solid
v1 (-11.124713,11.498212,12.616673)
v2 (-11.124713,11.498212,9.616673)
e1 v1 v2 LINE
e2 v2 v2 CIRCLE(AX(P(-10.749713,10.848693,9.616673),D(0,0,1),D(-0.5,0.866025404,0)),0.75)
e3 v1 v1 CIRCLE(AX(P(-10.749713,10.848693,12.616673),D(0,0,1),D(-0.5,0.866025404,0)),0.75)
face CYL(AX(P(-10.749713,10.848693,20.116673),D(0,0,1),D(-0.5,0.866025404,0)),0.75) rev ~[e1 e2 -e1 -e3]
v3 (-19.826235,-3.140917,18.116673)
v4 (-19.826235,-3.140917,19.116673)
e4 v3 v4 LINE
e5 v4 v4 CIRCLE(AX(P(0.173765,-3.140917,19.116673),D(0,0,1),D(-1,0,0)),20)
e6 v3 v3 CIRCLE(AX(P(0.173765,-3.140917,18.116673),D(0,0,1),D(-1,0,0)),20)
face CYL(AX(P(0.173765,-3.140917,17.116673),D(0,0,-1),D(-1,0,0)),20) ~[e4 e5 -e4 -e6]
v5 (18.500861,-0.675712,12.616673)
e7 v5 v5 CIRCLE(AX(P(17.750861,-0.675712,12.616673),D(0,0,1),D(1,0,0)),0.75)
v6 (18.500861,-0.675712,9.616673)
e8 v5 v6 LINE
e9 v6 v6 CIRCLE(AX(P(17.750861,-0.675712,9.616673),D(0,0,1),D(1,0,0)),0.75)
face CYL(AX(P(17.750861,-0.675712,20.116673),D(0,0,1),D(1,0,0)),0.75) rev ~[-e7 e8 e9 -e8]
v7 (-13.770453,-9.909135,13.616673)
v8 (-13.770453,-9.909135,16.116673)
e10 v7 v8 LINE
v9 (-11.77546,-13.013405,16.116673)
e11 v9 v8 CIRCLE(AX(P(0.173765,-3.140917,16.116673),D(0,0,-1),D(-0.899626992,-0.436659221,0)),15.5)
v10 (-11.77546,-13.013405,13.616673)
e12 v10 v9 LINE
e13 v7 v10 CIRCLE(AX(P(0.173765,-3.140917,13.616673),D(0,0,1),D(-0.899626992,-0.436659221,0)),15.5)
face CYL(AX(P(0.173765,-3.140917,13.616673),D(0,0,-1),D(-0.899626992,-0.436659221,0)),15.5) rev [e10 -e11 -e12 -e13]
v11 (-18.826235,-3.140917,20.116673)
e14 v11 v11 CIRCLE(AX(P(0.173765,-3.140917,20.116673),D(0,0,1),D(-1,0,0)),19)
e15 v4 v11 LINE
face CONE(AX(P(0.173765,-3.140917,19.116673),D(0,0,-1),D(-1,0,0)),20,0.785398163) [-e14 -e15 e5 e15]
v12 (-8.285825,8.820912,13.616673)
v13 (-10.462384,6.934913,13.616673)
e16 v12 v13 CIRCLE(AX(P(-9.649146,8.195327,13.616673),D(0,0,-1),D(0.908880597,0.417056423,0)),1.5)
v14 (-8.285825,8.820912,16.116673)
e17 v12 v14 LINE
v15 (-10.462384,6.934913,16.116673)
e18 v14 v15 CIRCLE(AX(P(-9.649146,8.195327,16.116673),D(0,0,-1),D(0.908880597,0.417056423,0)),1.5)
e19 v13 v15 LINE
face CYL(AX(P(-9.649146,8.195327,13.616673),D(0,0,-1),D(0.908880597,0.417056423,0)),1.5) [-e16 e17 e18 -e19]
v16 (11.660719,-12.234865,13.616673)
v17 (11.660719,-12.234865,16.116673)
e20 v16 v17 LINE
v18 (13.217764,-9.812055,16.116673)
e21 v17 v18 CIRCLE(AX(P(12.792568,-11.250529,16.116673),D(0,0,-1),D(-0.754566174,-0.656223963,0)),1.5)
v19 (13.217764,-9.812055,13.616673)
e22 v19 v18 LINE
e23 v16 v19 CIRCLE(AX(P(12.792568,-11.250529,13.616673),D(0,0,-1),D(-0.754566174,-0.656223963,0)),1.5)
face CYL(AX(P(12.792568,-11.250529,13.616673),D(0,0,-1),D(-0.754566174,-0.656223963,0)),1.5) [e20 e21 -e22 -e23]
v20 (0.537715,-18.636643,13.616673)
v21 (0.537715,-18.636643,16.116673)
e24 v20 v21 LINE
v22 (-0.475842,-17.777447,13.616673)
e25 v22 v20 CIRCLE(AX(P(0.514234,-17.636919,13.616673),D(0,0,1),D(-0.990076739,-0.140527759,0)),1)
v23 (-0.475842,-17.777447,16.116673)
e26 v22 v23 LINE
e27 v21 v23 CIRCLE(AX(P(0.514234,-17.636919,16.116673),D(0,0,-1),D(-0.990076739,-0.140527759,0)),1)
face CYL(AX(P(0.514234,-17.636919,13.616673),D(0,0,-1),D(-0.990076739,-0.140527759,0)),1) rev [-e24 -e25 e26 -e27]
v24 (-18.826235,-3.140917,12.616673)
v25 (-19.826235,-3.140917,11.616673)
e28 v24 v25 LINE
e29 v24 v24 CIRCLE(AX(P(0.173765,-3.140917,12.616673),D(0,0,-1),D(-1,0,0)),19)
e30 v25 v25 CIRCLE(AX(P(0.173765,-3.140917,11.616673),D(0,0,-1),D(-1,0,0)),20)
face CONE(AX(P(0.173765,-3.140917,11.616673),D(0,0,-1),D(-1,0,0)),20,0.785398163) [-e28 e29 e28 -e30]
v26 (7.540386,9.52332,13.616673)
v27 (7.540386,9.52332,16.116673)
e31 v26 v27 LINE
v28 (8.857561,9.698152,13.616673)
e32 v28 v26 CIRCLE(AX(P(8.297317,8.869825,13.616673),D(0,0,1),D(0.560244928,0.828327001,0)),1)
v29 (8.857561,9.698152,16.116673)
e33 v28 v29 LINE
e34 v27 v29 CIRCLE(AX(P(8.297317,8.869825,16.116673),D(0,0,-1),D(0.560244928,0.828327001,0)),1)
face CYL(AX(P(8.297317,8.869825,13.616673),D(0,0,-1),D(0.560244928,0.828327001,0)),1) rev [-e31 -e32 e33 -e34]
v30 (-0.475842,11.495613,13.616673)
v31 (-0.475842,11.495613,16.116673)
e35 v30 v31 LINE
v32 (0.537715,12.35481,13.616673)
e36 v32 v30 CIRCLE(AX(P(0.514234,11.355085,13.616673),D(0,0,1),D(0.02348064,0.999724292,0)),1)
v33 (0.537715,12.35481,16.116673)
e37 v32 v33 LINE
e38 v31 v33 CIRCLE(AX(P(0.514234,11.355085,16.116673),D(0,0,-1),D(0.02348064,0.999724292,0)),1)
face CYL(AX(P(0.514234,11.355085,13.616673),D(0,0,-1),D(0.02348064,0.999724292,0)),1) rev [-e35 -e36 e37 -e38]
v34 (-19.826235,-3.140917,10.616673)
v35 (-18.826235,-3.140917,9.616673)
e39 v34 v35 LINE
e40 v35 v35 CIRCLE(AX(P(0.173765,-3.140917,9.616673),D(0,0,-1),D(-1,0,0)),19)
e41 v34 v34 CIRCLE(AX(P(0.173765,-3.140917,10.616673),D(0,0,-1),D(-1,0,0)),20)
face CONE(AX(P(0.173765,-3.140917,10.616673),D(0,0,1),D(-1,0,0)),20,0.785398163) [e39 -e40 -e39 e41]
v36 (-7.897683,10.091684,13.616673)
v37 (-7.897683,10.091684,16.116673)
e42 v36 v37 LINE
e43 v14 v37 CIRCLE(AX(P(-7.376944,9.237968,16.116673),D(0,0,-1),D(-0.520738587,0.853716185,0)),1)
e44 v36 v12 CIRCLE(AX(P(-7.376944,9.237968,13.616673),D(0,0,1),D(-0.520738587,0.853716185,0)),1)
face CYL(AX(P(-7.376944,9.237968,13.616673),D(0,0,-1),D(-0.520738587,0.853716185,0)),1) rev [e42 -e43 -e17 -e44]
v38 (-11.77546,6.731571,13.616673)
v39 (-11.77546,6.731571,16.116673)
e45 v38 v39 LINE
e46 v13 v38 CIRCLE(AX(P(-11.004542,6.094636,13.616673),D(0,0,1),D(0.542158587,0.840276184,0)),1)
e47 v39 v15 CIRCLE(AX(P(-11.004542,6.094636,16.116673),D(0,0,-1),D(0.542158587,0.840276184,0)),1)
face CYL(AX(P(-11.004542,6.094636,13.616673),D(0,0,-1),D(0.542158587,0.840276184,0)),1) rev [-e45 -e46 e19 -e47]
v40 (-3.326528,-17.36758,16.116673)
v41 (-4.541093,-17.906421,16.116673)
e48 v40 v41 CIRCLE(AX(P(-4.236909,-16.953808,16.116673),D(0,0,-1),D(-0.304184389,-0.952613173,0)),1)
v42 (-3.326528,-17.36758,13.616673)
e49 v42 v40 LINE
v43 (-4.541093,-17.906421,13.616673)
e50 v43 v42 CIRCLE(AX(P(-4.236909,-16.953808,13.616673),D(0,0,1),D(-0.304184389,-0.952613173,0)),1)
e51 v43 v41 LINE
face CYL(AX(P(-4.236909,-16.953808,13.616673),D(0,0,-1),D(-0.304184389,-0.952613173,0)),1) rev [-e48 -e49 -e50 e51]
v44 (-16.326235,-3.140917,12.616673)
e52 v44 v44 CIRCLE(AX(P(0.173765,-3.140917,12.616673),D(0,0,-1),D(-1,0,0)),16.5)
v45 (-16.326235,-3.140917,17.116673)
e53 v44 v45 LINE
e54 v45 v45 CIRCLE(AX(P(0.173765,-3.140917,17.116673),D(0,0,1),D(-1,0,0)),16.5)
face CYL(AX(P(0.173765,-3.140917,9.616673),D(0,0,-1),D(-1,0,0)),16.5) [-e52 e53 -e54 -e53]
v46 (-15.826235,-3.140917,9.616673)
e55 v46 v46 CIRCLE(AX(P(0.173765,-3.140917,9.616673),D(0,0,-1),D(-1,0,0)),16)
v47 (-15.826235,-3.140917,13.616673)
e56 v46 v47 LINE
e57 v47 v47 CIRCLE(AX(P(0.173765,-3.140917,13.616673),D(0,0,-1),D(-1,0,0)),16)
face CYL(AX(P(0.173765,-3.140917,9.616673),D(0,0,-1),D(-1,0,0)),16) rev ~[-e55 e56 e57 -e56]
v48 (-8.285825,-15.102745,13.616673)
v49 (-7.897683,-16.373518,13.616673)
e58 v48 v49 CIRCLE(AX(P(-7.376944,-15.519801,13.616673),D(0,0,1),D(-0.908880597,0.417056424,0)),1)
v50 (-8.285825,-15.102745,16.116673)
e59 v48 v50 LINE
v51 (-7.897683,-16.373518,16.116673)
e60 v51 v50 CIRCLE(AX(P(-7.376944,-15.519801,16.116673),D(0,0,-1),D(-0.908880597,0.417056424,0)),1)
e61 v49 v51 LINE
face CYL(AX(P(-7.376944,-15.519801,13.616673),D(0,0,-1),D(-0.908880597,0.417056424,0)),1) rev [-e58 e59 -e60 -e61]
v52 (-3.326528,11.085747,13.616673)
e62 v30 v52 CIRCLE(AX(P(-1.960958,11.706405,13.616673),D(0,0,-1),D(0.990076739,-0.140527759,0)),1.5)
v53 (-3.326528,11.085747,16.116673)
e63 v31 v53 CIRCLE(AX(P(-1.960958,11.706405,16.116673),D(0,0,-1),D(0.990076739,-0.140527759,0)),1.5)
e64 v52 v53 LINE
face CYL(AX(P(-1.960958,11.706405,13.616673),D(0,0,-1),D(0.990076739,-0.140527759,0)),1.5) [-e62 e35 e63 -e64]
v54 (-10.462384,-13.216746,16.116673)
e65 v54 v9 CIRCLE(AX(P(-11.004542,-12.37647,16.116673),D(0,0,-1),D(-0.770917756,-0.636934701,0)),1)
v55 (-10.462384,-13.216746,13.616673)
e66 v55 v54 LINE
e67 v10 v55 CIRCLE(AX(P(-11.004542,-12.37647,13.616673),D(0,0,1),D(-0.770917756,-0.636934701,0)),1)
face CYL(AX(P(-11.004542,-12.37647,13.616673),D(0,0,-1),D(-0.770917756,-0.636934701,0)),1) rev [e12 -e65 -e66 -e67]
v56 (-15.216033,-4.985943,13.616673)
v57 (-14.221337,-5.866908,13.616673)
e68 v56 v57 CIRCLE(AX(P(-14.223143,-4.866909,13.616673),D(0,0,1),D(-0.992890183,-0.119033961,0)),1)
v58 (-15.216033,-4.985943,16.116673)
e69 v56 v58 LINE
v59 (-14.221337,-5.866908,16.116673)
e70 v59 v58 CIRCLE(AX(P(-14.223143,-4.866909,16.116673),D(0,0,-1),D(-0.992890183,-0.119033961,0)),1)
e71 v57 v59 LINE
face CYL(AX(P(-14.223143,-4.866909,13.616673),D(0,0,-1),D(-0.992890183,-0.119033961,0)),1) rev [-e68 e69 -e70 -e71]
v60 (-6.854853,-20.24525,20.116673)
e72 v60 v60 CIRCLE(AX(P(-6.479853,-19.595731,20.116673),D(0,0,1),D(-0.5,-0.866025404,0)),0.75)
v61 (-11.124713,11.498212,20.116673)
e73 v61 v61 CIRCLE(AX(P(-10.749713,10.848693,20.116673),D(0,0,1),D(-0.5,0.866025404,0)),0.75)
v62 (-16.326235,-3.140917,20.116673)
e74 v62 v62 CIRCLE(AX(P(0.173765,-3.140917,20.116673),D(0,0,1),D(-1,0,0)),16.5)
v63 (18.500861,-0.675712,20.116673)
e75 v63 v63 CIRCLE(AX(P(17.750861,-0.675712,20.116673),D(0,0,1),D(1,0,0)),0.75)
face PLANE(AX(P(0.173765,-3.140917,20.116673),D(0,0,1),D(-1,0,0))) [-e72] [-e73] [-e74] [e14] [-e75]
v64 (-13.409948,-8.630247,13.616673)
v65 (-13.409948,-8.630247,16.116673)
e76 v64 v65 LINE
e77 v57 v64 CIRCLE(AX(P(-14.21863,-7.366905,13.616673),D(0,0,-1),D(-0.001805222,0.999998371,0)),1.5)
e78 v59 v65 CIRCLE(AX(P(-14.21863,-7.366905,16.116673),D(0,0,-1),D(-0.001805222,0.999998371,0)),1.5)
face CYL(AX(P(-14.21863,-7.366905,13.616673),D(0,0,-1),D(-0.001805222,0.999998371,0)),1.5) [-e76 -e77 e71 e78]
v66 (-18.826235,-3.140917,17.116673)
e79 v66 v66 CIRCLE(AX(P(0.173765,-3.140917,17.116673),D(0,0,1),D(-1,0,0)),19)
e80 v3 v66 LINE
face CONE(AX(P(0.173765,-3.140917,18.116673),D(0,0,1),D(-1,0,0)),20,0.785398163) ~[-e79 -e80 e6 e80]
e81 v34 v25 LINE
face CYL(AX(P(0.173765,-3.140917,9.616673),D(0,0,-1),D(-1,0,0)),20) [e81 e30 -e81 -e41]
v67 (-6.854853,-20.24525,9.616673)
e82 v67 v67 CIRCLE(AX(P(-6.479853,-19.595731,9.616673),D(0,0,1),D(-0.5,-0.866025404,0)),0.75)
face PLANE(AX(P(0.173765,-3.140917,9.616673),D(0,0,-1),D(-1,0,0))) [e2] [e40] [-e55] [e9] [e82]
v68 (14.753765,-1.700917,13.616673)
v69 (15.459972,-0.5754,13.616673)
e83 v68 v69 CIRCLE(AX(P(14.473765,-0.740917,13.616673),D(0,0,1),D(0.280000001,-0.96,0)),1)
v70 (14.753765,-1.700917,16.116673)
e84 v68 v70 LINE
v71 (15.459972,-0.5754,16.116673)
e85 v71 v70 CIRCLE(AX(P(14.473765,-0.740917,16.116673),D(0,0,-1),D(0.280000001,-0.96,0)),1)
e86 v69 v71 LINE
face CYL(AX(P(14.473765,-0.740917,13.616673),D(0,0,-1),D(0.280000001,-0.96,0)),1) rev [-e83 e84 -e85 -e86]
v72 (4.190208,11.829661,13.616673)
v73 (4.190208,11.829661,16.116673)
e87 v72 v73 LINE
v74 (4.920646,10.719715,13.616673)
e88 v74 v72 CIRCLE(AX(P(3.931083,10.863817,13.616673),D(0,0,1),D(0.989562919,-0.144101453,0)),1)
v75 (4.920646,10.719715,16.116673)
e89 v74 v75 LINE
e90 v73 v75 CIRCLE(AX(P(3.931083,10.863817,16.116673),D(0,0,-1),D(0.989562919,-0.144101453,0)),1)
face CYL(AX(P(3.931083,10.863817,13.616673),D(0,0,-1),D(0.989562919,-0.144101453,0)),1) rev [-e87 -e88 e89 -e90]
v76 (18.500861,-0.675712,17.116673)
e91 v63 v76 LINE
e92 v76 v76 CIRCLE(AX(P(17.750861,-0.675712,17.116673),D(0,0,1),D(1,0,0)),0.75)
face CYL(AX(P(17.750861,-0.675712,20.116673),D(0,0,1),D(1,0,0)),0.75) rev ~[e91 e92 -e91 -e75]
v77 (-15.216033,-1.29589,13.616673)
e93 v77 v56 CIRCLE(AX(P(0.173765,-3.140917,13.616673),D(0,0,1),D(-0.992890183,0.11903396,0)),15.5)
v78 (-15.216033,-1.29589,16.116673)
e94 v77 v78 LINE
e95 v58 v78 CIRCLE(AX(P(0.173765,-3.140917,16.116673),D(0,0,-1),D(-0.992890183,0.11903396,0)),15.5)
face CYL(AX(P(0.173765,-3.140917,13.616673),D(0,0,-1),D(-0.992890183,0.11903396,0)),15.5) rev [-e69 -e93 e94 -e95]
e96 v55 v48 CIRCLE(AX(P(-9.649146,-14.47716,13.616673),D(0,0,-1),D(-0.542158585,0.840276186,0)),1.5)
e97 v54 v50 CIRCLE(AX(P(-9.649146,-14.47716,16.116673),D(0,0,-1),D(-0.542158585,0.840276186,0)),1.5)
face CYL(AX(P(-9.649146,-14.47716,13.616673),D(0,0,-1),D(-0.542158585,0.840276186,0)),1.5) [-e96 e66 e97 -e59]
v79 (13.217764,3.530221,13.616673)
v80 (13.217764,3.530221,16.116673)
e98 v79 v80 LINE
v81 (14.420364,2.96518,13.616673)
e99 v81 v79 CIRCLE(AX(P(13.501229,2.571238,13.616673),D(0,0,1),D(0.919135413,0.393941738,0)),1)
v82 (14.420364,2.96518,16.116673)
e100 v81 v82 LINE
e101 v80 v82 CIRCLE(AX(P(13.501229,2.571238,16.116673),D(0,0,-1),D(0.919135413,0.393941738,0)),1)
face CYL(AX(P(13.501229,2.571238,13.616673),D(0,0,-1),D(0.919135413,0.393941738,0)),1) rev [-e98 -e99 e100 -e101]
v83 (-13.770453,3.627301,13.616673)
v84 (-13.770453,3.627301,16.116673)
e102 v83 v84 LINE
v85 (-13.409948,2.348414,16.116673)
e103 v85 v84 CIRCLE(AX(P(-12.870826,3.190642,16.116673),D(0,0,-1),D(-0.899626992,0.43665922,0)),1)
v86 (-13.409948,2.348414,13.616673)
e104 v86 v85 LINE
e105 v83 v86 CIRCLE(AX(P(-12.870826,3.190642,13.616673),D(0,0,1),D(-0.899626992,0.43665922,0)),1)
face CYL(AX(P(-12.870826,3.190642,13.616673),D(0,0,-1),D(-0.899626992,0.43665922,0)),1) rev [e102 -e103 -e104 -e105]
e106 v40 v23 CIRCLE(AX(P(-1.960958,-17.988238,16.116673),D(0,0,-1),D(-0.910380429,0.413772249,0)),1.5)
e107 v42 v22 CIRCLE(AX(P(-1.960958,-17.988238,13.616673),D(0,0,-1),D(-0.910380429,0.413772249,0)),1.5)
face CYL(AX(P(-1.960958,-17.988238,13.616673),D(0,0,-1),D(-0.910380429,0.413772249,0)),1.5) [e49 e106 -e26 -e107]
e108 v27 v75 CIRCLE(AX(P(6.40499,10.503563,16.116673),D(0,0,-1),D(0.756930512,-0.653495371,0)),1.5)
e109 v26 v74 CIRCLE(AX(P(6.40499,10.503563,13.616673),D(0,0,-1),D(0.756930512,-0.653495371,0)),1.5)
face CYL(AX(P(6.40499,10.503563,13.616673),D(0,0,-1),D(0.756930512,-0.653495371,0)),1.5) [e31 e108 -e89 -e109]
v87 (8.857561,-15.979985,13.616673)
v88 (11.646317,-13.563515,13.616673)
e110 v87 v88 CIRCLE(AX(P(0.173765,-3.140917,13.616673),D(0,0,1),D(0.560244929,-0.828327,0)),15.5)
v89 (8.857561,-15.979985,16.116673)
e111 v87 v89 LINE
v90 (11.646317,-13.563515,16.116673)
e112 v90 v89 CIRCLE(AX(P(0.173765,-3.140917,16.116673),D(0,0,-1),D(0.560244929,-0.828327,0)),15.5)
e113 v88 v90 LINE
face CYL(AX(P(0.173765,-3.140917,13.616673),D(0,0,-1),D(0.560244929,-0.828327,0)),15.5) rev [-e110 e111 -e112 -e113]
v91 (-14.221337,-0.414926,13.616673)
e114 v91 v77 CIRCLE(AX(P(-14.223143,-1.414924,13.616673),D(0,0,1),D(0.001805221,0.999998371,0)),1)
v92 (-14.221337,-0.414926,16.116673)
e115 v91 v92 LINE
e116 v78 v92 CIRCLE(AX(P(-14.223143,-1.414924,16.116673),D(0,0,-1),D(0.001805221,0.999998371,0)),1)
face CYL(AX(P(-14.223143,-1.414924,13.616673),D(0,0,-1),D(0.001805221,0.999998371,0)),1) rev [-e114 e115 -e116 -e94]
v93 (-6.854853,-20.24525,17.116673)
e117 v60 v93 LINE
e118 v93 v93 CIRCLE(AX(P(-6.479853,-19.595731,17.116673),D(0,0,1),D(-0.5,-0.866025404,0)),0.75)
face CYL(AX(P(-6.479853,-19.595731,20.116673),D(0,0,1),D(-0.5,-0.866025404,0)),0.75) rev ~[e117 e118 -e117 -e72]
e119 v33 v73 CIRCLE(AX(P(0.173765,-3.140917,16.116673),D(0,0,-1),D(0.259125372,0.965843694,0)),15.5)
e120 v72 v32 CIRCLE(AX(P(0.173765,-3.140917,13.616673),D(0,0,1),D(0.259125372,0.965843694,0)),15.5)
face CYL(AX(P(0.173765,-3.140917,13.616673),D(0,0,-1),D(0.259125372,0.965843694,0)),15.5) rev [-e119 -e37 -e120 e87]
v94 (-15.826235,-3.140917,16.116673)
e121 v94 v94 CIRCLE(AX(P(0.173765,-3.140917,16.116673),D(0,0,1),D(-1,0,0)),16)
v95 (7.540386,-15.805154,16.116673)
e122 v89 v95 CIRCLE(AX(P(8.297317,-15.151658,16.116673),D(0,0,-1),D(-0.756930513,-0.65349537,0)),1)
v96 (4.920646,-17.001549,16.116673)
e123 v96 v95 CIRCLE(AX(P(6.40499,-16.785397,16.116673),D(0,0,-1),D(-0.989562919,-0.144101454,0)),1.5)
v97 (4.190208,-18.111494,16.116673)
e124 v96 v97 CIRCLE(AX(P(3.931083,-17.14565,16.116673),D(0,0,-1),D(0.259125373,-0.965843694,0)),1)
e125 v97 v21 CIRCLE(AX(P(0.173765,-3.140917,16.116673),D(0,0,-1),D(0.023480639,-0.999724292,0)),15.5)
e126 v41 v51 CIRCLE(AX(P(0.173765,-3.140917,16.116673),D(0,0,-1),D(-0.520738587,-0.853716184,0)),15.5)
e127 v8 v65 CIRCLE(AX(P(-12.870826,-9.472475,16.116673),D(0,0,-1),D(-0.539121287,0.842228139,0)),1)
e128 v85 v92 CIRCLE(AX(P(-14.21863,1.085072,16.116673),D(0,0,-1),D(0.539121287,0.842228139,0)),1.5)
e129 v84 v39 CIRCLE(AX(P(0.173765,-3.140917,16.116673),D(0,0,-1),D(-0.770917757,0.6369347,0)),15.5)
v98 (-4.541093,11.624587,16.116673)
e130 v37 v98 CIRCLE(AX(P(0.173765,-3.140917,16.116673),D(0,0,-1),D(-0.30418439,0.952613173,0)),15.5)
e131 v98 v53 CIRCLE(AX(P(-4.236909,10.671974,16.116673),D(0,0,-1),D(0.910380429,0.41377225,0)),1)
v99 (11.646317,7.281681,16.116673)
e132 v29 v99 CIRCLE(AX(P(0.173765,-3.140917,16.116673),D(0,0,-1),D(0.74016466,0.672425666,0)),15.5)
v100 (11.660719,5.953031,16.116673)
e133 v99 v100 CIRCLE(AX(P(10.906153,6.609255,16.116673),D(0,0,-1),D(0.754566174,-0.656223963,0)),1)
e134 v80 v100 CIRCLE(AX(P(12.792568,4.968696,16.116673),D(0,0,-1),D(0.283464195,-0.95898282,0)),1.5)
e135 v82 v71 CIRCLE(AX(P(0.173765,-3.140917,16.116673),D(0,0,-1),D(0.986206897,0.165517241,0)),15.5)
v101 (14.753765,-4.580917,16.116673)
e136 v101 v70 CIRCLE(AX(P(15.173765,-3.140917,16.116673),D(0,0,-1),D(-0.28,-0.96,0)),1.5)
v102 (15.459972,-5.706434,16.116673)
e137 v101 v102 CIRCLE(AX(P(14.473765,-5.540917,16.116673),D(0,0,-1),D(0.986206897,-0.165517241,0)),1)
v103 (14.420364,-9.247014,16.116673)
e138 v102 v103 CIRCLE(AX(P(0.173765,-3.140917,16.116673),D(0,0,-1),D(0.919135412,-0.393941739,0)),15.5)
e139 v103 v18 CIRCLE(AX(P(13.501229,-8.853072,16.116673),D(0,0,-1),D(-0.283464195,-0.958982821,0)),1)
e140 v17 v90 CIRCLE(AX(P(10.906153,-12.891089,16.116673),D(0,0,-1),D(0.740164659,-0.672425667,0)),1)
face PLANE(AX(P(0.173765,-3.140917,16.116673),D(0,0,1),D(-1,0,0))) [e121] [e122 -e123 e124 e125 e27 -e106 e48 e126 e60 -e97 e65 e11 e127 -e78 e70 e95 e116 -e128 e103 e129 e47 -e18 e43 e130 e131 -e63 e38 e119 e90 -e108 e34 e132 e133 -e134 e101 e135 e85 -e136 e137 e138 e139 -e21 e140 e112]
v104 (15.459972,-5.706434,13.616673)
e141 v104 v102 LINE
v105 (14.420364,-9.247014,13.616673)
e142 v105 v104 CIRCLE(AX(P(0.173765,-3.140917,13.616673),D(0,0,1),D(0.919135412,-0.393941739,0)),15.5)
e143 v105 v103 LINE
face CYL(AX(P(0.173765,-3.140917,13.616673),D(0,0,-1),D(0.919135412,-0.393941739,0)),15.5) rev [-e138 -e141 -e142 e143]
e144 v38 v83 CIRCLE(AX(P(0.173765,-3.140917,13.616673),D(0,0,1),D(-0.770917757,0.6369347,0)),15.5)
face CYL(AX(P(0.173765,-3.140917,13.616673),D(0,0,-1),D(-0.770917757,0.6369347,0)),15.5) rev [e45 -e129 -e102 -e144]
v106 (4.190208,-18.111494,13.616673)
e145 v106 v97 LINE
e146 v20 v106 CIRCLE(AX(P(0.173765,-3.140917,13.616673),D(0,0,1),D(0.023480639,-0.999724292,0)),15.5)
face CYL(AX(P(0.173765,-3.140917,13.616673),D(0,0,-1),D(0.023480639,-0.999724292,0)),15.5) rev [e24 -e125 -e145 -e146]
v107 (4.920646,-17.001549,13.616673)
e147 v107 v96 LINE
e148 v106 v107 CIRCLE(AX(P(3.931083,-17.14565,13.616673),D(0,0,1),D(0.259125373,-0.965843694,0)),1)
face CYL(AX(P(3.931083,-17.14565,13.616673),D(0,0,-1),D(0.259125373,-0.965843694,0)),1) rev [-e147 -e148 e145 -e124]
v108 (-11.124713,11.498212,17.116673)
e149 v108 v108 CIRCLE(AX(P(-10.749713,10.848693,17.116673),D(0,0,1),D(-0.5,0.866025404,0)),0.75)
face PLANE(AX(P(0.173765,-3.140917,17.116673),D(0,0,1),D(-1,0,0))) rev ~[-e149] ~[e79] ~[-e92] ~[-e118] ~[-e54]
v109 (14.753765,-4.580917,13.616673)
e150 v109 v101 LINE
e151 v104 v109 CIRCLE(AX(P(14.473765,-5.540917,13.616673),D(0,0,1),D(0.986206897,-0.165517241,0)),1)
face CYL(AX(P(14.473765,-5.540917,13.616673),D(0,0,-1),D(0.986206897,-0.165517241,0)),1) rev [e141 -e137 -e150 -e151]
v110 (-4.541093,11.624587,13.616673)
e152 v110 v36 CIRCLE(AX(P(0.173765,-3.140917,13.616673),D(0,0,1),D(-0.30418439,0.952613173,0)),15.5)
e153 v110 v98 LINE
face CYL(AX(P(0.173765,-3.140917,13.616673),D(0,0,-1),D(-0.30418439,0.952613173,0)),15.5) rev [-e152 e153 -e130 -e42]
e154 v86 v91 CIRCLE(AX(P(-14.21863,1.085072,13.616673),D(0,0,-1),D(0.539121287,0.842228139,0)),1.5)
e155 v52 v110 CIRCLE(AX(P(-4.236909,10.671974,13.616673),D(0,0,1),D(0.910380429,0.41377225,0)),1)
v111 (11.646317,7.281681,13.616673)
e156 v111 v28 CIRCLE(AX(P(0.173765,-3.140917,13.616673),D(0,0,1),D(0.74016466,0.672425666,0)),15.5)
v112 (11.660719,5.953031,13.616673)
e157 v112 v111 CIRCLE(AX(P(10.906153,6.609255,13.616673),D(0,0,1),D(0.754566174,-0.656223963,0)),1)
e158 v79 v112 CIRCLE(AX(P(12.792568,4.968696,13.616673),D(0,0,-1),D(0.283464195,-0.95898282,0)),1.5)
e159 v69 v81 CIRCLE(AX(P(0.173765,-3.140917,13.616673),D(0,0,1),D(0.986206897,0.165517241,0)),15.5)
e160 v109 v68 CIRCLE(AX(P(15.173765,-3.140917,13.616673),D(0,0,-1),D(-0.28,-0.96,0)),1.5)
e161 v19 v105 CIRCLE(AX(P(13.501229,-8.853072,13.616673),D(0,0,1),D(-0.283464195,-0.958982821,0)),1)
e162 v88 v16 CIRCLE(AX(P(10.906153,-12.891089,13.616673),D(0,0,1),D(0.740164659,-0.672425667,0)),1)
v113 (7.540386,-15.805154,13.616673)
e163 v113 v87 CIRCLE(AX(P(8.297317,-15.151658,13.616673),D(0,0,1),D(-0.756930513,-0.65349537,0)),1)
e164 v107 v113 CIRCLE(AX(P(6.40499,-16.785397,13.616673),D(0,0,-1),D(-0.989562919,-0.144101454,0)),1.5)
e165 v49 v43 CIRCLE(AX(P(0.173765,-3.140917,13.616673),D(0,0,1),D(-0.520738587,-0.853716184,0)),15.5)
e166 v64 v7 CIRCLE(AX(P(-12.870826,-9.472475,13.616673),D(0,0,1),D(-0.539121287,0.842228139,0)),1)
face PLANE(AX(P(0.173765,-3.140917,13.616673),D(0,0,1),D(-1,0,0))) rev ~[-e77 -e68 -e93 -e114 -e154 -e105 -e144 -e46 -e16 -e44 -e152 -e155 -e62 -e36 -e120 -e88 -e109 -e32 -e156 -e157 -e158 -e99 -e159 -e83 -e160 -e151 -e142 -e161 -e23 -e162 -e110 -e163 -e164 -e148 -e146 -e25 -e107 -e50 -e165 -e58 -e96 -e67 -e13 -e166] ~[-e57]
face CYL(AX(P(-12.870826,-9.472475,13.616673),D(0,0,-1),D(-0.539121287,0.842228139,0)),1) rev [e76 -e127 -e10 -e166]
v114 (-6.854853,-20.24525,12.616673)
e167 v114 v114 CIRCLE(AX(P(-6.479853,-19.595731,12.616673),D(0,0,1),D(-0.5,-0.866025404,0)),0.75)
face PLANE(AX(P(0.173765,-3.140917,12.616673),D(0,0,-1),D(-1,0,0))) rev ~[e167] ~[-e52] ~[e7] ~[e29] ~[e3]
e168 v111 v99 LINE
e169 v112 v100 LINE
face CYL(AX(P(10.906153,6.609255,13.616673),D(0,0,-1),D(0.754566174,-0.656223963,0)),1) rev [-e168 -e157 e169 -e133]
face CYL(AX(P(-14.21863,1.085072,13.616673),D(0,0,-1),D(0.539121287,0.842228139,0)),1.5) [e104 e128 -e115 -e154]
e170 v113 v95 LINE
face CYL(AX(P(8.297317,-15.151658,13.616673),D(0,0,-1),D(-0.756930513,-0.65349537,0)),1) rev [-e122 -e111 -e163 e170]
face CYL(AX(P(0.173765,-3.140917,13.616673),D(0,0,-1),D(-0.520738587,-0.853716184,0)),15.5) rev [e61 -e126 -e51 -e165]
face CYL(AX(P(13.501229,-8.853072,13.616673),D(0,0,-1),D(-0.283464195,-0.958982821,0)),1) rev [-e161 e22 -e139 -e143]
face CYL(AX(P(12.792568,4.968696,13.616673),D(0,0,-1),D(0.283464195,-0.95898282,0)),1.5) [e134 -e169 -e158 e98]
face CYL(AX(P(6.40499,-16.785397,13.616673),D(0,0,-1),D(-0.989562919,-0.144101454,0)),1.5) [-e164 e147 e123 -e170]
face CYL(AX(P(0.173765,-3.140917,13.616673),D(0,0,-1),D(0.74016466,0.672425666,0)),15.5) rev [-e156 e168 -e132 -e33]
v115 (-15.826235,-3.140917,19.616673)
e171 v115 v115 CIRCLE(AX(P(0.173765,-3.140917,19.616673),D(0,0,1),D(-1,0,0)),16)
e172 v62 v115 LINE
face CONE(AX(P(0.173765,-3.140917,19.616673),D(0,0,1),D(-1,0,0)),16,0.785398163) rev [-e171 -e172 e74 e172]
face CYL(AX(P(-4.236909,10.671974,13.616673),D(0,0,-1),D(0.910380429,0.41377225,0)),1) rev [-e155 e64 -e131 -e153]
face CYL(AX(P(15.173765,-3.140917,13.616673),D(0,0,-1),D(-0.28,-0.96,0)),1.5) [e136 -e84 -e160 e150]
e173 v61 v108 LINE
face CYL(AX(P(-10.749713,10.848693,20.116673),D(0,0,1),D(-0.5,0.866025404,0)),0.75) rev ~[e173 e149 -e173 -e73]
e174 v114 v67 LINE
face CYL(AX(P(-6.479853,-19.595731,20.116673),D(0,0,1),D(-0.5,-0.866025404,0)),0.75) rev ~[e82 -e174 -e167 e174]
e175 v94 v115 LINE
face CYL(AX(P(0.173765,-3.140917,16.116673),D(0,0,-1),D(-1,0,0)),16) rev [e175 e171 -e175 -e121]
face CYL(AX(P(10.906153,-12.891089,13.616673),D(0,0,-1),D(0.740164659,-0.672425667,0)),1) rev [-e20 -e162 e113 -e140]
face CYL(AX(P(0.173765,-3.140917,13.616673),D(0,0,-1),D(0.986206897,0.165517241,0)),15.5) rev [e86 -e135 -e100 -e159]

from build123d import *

# Parameters (mm, degrees)
SKETCH_1_R               = 16.5
EXTRUDE_1_DEPTH          = 6.5
EXTRUDE_START            = 4
SKETCH_2_R               = 16.5
SKETCH_2_R_2             = 16
EXTRUDE_2_DEPTH          = 4
CUT_EXTRUDE_START        = -4
SKETCH_4_R               = 16
CUT_EXTRUDE_2_DEPTH      = 4
SKETCH_5_R               = 20
SKETCH_5_R_2             = 16.5
EXTRUDE_3_DEPTH          = 3
EXTRUDE_START_2          = -3
SKETCH_6_R               = 20
SKETCH_6_R_2             = 16.5
EXTRUDE_4_DEPTH          = 3
CHAMFER_1_SIZE           = 1
SKETCH_7_R               = 0.75
CUT_EXTRUDE_3_DEPTH      = 33.445844482
PATTERN_CIRCULAR_1_COUNT = 3
CHAMFER_2_SIZE           = 0.5


with BuildPart() as part:
    # 草图1 → 凸台-拉伸1 (new body)
    with BuildSketch(Plane.XY.offset(13.616672725)):
        with Locations(Location((0.173765051, -3.140916746, 0), (0, 0, 180))):
            Circle(SKETCH_1_R)
        with BuildLine():
            ThreePointArc((-4.541092987, 11.624587434), (-6.265167651, 10.958379182), (-7.897683054, 10.091684113))
            ThreePointArc((-7.897683054, 10.091684113), (-8.333327501, 9.530083474), (-8.285825063, 8.820911505))
            ThreePointArc((-8.285825063, 8.820911505), (-8.666854858, 7.061702508), (-10.462383837, 6.934912591))
            ThreePointArc((-10.462383837, 6.934912591), (-11.157577156, 7.082857217), (-11.77546018, 6.731571106))
            ThreePointArc((-11.77546018, 6.731571106), (-12.865664708, 5.239015925), (-13.770453328, 3.627301174))
            ThreePointArc((-13.770453328, 3.627301174), (-13.833316529, 2.919325482), (-13.409947623, 2.348413815))
            ThreePointArc((-13.409947623, 2.348413815), (-12.779390093, 0.662472772), (-14.221337386, -0.414925949))
            ThreePointArc((-14.221337386, -0.414925949), (-14.886156125, -0.666316895), (-15.216032792, -1.295890359))
            ThreePointArc((-15.216032792, -1.295890359), (-15.326234949, -3.140916746), (-15.216032792, -4.985943132))
            ThreePointArc((-15.216032792, -4.985943132), (-14.886156125, -5.615516597), (-14.221337386, -5.866907543))
            ThreePointArc((-14.221337386, -5.866907543), (-12.779390093, -6.944306263), (-13.409947623, -8.630247307))
            ThreePointArc((-13.409947623, -8.630247307), (-13.833316529, -9.201158974), (-13.770453328, -9.909134666))
            ThreePointArc((-13.770453328, -9.909134666), (-12.865664708, -11.520849416), (-11.77546018, -13.013404598))
            ThreePointArc((-11.77546018, -13.013404598), (-11.157577156, -13.364690708), (-10.462383837, -13.216746083))
            ThreePointArc((-10.462383837, -13.216746083), (-8.666854858, -13.343536), (-8.285825063, -15.102744997))
            ThreePointArc((-8.285825063, -15.102744997), (-8.333327501, -15.811916965), (-7.897683054, -16.373517605))
            ThreePointArc((-7.897683054, -16.373517605), (-6.265167651, -17.240212674), (-4.541092987, -17.906420926))
            ThreePointArc((-4.541092987, -17.906420926), (-3.8313771, -17.867888824), (-3.326528168, -17.367580001))
            ThreePointArc((-3.326528168, -17.367580001), (-1.747485266, -16.503506211), (-0.475842415, -17.777446736))
            ThreePointArc((-0.475842415, -17.777446736), (-0.132396696, -18.399721916), (0.537714963, -18.636643268))
            ThreePointArc((0.537714963, -18.636643268), (2.379645044, -18.483149095), (4.19020832, -18.111494005))
            ThreePointArc((4.19020832, -18.111494005), (4.76642729, -17.695377361), (4.920645867, -17.001548857))
            ThreePointArc((4.920645867, -17.001548857), (5.781867726, -15.420948683), (7.540386014, -15.805153619))
            ThreePointArc((7.540386014, -15.805153619), (8.165738301, -16.142964039), (8.857561455, -15.979985248))
            ThreePointArc((8.857561455, -15.979985248), (10.324106427, -14.855035148), (11.646317267, -13.563514581))
            ThreePointArc((11.646317267, -13.563514581), (11.906093869, -12.901927489), (11.660718782, -12.234864952))
            ThreePointArc((11.660718782, -12.234864952), (11.530687744, -10.439567781), (13.217764337, -9.812054777))
            ThreePointArc((13.217764337, -9.812054777), (13.926478259, -9.758148014), (14.420363945, -9.247013695))
            ThreePointArc((14.420363945, -9.247013695), (15.045906142, -7.507771377), (15.459971947, -5.706433987))
            ThreePointArc((15.459971947, -5.706433987), (15.320828945, -5.009425675), (14.753765051, -4.580916746))
            ThreePointArc((14.753765051, -4.580916746), (13.673765051, -3.140916746), (14.753765051, -1.700916746))
            ThreePointArc((14.753765051, -1.700916746), (15.320828945, -1.272407817), (15.459971947, -0.575399504))
            ThreePointArc((15.459971947, -0.575399504), (15.045906142, 1.225937885), (14.420363945, 2.965180204))
            ThreePointArc((14.420363945, 2.965180204), (13.926478259, 3.476314523), (13.217764337, 3.530221285))
            ThreePointArc((13.217764337, 3.530221285), (11.530687744, 4.15773429), (11.660718782, 5.95303146))
            ThreePointArc((11.660718782, 5.95303146), (11.906093869, 6.620093998), (11.646317267, 7.281681089))
            ThreePointArc((11.646317267, 7.281681089), (10.324106427, 8.573201657), (8.857561455, 9.698151757))
            ThreePointArc((8.857561455, 9.698151757), (8.165738301, 9.861130547), (7.540386014, 9.523320128))
            ThreePointArc((7.540386014, 9.523320128), (5.781867726, 9.139115191), (4.920645867, 10.719715365))
            ThreePointArc((4.920645867, 10.719715365), (4.76642729, 11.413543869), (4.19020832, 11.829660513))
            ThreePointArc((4.19020832, 11.829660513), (2.379645044, 12.201315603), (0.537714963, 12.354809777))
            ThreePointArc((0.537714963, 12.354809777), (-0.132396696, 12.117888425), (-0.475842415, 11.495613244))
            ThreePointArc((-0.475842415, 11.495613244), (-1.747485266, 10.22167272), (-3.326528168, 11.08574651))
            ThreePointArc((-3.326528168, 11.08574651), (-3.8313771, 11.586055332), (-4.541092987, 11.624587434))
        make_face(mode=Mode.SUBTRACT)
    extrude(amount=EXTRUDE_1_DEPTH)

    # 草图2 → 凸台-拉伸2 (add)
    with BuildSketch(Plane(origin=(0, 0, 13.616672725), x_dir=(-1, 0, 0), z_dir=(0, 0, -1)).offset(EXTRUDE_START)):
        with Locations((-0.173765051, -3.140916746)):
            Circle(SKETCH_2_R)
        with Locations((-0.173765051, -3.140916746)):
            Circle(SKETCH_2_R_2, mode=Mode.SUBTRACT)
    extrude(amount=-EXTRUDE_2_DEPTH)

    # 草图4 → 切除-拉伸2 (cut)
    with BuildSketch(Plane.XY.offset(20.116672725).offset(CUT_EXTRUDE_START)):
        with Locations(Location((0.173765051, -3.140916746, 0), (0, 0, 180))):
            Circle(SKETCH_4_R)
    extrude(amount=CUT_EXTRUDE_2_DEPTH, mode=Mode.SUBTRACT)

    # 草图5 → 凸台-拉伸3 (add)
    with BuildSketch(Plane(origin=(0, 0, 9.616672725), x_dir=(-1, 0, 0), z_dir=(0, 0, -1))):
        with Locations((-0.173765051, -3.140916746)):
            Circle(SKETCH_5_R)
        with Locations((-0.173765051, -3.140916746)):
            Circle(SKETCH_5_R_2, mode=Mode.SUBTRACT)
    extrude(amount=-EXTRUDE_3_DEPTH)

    # 草图6 → 凸台-拉伸4 (add)
    with BuildSketch(Plane.XY.offset(20.116672725).offset(EXTRUDE_START_2)):
        with Locations(Location((0.173765051, -3.140916746, 0), (0, 0, 180))):
            Circle(SKETCH_6_R)
        with Locations(Location((0.173765051, -3.140916746, 0), (0, 0, 180))):
            Circle(SKETCH_6_R_2, mode=Mode.SUBTRACT)
    extrude(amount=EXTRUDE_4_DEPTH)

    # 倒角1
    chamfer_1_edges = [part.edges().sort_by_distance(p)[0] for p in [
        (20.173765051, -3.140916746, 12.616672725),
        (20.173765051, -3.140916746, 9.616672725),
        (20.173765051, -3.140916746, 17.116672725),
        (20.173765051, -3.140916746, 20.116672725),
    ]]
    chamfer(chamfer_1_edges, length=CHAMFER_1_SIZE)

    # 草图7 → 切除-拉伸3 (cut, through all)
    with BuildSketch(Plane.XY.offset(20.116672725)):
        with Locations((17.750861301, -0.675711568)):
            Circle(SKETCH_7_R)
    cut_extrude_3 = extrude(amount=-CUT_EXTRUDE_3_DEPTH, mode=Mode.SUBTRACT)

    # 阵列(圆周)1: 切除-拉伸3 ×3 about axis
    pattern_circular_1_axis = Axis((0.173765051, -3.140916746, 0), (0, 0, 1))
    for i in range(1, PATTERN_CIRCULAR_1_COUNT):
        add(cut_extrude_3.rotate(pattern_circular_1_axis, i * 360 / PATTERN_CIRCULAR_1_COUNT), mode=Mode.SUBTRACT)

    # 倒角2
    chamfer_2_edges = [part.edges().sort_by_distance(p)[0] for p in [
        (16.173765051, -3.140916746, 20.116672725),
    ]]
    chamfer(chamfer_2_edges, length=CHAMFER_2_SIZE)


solid = part.part
